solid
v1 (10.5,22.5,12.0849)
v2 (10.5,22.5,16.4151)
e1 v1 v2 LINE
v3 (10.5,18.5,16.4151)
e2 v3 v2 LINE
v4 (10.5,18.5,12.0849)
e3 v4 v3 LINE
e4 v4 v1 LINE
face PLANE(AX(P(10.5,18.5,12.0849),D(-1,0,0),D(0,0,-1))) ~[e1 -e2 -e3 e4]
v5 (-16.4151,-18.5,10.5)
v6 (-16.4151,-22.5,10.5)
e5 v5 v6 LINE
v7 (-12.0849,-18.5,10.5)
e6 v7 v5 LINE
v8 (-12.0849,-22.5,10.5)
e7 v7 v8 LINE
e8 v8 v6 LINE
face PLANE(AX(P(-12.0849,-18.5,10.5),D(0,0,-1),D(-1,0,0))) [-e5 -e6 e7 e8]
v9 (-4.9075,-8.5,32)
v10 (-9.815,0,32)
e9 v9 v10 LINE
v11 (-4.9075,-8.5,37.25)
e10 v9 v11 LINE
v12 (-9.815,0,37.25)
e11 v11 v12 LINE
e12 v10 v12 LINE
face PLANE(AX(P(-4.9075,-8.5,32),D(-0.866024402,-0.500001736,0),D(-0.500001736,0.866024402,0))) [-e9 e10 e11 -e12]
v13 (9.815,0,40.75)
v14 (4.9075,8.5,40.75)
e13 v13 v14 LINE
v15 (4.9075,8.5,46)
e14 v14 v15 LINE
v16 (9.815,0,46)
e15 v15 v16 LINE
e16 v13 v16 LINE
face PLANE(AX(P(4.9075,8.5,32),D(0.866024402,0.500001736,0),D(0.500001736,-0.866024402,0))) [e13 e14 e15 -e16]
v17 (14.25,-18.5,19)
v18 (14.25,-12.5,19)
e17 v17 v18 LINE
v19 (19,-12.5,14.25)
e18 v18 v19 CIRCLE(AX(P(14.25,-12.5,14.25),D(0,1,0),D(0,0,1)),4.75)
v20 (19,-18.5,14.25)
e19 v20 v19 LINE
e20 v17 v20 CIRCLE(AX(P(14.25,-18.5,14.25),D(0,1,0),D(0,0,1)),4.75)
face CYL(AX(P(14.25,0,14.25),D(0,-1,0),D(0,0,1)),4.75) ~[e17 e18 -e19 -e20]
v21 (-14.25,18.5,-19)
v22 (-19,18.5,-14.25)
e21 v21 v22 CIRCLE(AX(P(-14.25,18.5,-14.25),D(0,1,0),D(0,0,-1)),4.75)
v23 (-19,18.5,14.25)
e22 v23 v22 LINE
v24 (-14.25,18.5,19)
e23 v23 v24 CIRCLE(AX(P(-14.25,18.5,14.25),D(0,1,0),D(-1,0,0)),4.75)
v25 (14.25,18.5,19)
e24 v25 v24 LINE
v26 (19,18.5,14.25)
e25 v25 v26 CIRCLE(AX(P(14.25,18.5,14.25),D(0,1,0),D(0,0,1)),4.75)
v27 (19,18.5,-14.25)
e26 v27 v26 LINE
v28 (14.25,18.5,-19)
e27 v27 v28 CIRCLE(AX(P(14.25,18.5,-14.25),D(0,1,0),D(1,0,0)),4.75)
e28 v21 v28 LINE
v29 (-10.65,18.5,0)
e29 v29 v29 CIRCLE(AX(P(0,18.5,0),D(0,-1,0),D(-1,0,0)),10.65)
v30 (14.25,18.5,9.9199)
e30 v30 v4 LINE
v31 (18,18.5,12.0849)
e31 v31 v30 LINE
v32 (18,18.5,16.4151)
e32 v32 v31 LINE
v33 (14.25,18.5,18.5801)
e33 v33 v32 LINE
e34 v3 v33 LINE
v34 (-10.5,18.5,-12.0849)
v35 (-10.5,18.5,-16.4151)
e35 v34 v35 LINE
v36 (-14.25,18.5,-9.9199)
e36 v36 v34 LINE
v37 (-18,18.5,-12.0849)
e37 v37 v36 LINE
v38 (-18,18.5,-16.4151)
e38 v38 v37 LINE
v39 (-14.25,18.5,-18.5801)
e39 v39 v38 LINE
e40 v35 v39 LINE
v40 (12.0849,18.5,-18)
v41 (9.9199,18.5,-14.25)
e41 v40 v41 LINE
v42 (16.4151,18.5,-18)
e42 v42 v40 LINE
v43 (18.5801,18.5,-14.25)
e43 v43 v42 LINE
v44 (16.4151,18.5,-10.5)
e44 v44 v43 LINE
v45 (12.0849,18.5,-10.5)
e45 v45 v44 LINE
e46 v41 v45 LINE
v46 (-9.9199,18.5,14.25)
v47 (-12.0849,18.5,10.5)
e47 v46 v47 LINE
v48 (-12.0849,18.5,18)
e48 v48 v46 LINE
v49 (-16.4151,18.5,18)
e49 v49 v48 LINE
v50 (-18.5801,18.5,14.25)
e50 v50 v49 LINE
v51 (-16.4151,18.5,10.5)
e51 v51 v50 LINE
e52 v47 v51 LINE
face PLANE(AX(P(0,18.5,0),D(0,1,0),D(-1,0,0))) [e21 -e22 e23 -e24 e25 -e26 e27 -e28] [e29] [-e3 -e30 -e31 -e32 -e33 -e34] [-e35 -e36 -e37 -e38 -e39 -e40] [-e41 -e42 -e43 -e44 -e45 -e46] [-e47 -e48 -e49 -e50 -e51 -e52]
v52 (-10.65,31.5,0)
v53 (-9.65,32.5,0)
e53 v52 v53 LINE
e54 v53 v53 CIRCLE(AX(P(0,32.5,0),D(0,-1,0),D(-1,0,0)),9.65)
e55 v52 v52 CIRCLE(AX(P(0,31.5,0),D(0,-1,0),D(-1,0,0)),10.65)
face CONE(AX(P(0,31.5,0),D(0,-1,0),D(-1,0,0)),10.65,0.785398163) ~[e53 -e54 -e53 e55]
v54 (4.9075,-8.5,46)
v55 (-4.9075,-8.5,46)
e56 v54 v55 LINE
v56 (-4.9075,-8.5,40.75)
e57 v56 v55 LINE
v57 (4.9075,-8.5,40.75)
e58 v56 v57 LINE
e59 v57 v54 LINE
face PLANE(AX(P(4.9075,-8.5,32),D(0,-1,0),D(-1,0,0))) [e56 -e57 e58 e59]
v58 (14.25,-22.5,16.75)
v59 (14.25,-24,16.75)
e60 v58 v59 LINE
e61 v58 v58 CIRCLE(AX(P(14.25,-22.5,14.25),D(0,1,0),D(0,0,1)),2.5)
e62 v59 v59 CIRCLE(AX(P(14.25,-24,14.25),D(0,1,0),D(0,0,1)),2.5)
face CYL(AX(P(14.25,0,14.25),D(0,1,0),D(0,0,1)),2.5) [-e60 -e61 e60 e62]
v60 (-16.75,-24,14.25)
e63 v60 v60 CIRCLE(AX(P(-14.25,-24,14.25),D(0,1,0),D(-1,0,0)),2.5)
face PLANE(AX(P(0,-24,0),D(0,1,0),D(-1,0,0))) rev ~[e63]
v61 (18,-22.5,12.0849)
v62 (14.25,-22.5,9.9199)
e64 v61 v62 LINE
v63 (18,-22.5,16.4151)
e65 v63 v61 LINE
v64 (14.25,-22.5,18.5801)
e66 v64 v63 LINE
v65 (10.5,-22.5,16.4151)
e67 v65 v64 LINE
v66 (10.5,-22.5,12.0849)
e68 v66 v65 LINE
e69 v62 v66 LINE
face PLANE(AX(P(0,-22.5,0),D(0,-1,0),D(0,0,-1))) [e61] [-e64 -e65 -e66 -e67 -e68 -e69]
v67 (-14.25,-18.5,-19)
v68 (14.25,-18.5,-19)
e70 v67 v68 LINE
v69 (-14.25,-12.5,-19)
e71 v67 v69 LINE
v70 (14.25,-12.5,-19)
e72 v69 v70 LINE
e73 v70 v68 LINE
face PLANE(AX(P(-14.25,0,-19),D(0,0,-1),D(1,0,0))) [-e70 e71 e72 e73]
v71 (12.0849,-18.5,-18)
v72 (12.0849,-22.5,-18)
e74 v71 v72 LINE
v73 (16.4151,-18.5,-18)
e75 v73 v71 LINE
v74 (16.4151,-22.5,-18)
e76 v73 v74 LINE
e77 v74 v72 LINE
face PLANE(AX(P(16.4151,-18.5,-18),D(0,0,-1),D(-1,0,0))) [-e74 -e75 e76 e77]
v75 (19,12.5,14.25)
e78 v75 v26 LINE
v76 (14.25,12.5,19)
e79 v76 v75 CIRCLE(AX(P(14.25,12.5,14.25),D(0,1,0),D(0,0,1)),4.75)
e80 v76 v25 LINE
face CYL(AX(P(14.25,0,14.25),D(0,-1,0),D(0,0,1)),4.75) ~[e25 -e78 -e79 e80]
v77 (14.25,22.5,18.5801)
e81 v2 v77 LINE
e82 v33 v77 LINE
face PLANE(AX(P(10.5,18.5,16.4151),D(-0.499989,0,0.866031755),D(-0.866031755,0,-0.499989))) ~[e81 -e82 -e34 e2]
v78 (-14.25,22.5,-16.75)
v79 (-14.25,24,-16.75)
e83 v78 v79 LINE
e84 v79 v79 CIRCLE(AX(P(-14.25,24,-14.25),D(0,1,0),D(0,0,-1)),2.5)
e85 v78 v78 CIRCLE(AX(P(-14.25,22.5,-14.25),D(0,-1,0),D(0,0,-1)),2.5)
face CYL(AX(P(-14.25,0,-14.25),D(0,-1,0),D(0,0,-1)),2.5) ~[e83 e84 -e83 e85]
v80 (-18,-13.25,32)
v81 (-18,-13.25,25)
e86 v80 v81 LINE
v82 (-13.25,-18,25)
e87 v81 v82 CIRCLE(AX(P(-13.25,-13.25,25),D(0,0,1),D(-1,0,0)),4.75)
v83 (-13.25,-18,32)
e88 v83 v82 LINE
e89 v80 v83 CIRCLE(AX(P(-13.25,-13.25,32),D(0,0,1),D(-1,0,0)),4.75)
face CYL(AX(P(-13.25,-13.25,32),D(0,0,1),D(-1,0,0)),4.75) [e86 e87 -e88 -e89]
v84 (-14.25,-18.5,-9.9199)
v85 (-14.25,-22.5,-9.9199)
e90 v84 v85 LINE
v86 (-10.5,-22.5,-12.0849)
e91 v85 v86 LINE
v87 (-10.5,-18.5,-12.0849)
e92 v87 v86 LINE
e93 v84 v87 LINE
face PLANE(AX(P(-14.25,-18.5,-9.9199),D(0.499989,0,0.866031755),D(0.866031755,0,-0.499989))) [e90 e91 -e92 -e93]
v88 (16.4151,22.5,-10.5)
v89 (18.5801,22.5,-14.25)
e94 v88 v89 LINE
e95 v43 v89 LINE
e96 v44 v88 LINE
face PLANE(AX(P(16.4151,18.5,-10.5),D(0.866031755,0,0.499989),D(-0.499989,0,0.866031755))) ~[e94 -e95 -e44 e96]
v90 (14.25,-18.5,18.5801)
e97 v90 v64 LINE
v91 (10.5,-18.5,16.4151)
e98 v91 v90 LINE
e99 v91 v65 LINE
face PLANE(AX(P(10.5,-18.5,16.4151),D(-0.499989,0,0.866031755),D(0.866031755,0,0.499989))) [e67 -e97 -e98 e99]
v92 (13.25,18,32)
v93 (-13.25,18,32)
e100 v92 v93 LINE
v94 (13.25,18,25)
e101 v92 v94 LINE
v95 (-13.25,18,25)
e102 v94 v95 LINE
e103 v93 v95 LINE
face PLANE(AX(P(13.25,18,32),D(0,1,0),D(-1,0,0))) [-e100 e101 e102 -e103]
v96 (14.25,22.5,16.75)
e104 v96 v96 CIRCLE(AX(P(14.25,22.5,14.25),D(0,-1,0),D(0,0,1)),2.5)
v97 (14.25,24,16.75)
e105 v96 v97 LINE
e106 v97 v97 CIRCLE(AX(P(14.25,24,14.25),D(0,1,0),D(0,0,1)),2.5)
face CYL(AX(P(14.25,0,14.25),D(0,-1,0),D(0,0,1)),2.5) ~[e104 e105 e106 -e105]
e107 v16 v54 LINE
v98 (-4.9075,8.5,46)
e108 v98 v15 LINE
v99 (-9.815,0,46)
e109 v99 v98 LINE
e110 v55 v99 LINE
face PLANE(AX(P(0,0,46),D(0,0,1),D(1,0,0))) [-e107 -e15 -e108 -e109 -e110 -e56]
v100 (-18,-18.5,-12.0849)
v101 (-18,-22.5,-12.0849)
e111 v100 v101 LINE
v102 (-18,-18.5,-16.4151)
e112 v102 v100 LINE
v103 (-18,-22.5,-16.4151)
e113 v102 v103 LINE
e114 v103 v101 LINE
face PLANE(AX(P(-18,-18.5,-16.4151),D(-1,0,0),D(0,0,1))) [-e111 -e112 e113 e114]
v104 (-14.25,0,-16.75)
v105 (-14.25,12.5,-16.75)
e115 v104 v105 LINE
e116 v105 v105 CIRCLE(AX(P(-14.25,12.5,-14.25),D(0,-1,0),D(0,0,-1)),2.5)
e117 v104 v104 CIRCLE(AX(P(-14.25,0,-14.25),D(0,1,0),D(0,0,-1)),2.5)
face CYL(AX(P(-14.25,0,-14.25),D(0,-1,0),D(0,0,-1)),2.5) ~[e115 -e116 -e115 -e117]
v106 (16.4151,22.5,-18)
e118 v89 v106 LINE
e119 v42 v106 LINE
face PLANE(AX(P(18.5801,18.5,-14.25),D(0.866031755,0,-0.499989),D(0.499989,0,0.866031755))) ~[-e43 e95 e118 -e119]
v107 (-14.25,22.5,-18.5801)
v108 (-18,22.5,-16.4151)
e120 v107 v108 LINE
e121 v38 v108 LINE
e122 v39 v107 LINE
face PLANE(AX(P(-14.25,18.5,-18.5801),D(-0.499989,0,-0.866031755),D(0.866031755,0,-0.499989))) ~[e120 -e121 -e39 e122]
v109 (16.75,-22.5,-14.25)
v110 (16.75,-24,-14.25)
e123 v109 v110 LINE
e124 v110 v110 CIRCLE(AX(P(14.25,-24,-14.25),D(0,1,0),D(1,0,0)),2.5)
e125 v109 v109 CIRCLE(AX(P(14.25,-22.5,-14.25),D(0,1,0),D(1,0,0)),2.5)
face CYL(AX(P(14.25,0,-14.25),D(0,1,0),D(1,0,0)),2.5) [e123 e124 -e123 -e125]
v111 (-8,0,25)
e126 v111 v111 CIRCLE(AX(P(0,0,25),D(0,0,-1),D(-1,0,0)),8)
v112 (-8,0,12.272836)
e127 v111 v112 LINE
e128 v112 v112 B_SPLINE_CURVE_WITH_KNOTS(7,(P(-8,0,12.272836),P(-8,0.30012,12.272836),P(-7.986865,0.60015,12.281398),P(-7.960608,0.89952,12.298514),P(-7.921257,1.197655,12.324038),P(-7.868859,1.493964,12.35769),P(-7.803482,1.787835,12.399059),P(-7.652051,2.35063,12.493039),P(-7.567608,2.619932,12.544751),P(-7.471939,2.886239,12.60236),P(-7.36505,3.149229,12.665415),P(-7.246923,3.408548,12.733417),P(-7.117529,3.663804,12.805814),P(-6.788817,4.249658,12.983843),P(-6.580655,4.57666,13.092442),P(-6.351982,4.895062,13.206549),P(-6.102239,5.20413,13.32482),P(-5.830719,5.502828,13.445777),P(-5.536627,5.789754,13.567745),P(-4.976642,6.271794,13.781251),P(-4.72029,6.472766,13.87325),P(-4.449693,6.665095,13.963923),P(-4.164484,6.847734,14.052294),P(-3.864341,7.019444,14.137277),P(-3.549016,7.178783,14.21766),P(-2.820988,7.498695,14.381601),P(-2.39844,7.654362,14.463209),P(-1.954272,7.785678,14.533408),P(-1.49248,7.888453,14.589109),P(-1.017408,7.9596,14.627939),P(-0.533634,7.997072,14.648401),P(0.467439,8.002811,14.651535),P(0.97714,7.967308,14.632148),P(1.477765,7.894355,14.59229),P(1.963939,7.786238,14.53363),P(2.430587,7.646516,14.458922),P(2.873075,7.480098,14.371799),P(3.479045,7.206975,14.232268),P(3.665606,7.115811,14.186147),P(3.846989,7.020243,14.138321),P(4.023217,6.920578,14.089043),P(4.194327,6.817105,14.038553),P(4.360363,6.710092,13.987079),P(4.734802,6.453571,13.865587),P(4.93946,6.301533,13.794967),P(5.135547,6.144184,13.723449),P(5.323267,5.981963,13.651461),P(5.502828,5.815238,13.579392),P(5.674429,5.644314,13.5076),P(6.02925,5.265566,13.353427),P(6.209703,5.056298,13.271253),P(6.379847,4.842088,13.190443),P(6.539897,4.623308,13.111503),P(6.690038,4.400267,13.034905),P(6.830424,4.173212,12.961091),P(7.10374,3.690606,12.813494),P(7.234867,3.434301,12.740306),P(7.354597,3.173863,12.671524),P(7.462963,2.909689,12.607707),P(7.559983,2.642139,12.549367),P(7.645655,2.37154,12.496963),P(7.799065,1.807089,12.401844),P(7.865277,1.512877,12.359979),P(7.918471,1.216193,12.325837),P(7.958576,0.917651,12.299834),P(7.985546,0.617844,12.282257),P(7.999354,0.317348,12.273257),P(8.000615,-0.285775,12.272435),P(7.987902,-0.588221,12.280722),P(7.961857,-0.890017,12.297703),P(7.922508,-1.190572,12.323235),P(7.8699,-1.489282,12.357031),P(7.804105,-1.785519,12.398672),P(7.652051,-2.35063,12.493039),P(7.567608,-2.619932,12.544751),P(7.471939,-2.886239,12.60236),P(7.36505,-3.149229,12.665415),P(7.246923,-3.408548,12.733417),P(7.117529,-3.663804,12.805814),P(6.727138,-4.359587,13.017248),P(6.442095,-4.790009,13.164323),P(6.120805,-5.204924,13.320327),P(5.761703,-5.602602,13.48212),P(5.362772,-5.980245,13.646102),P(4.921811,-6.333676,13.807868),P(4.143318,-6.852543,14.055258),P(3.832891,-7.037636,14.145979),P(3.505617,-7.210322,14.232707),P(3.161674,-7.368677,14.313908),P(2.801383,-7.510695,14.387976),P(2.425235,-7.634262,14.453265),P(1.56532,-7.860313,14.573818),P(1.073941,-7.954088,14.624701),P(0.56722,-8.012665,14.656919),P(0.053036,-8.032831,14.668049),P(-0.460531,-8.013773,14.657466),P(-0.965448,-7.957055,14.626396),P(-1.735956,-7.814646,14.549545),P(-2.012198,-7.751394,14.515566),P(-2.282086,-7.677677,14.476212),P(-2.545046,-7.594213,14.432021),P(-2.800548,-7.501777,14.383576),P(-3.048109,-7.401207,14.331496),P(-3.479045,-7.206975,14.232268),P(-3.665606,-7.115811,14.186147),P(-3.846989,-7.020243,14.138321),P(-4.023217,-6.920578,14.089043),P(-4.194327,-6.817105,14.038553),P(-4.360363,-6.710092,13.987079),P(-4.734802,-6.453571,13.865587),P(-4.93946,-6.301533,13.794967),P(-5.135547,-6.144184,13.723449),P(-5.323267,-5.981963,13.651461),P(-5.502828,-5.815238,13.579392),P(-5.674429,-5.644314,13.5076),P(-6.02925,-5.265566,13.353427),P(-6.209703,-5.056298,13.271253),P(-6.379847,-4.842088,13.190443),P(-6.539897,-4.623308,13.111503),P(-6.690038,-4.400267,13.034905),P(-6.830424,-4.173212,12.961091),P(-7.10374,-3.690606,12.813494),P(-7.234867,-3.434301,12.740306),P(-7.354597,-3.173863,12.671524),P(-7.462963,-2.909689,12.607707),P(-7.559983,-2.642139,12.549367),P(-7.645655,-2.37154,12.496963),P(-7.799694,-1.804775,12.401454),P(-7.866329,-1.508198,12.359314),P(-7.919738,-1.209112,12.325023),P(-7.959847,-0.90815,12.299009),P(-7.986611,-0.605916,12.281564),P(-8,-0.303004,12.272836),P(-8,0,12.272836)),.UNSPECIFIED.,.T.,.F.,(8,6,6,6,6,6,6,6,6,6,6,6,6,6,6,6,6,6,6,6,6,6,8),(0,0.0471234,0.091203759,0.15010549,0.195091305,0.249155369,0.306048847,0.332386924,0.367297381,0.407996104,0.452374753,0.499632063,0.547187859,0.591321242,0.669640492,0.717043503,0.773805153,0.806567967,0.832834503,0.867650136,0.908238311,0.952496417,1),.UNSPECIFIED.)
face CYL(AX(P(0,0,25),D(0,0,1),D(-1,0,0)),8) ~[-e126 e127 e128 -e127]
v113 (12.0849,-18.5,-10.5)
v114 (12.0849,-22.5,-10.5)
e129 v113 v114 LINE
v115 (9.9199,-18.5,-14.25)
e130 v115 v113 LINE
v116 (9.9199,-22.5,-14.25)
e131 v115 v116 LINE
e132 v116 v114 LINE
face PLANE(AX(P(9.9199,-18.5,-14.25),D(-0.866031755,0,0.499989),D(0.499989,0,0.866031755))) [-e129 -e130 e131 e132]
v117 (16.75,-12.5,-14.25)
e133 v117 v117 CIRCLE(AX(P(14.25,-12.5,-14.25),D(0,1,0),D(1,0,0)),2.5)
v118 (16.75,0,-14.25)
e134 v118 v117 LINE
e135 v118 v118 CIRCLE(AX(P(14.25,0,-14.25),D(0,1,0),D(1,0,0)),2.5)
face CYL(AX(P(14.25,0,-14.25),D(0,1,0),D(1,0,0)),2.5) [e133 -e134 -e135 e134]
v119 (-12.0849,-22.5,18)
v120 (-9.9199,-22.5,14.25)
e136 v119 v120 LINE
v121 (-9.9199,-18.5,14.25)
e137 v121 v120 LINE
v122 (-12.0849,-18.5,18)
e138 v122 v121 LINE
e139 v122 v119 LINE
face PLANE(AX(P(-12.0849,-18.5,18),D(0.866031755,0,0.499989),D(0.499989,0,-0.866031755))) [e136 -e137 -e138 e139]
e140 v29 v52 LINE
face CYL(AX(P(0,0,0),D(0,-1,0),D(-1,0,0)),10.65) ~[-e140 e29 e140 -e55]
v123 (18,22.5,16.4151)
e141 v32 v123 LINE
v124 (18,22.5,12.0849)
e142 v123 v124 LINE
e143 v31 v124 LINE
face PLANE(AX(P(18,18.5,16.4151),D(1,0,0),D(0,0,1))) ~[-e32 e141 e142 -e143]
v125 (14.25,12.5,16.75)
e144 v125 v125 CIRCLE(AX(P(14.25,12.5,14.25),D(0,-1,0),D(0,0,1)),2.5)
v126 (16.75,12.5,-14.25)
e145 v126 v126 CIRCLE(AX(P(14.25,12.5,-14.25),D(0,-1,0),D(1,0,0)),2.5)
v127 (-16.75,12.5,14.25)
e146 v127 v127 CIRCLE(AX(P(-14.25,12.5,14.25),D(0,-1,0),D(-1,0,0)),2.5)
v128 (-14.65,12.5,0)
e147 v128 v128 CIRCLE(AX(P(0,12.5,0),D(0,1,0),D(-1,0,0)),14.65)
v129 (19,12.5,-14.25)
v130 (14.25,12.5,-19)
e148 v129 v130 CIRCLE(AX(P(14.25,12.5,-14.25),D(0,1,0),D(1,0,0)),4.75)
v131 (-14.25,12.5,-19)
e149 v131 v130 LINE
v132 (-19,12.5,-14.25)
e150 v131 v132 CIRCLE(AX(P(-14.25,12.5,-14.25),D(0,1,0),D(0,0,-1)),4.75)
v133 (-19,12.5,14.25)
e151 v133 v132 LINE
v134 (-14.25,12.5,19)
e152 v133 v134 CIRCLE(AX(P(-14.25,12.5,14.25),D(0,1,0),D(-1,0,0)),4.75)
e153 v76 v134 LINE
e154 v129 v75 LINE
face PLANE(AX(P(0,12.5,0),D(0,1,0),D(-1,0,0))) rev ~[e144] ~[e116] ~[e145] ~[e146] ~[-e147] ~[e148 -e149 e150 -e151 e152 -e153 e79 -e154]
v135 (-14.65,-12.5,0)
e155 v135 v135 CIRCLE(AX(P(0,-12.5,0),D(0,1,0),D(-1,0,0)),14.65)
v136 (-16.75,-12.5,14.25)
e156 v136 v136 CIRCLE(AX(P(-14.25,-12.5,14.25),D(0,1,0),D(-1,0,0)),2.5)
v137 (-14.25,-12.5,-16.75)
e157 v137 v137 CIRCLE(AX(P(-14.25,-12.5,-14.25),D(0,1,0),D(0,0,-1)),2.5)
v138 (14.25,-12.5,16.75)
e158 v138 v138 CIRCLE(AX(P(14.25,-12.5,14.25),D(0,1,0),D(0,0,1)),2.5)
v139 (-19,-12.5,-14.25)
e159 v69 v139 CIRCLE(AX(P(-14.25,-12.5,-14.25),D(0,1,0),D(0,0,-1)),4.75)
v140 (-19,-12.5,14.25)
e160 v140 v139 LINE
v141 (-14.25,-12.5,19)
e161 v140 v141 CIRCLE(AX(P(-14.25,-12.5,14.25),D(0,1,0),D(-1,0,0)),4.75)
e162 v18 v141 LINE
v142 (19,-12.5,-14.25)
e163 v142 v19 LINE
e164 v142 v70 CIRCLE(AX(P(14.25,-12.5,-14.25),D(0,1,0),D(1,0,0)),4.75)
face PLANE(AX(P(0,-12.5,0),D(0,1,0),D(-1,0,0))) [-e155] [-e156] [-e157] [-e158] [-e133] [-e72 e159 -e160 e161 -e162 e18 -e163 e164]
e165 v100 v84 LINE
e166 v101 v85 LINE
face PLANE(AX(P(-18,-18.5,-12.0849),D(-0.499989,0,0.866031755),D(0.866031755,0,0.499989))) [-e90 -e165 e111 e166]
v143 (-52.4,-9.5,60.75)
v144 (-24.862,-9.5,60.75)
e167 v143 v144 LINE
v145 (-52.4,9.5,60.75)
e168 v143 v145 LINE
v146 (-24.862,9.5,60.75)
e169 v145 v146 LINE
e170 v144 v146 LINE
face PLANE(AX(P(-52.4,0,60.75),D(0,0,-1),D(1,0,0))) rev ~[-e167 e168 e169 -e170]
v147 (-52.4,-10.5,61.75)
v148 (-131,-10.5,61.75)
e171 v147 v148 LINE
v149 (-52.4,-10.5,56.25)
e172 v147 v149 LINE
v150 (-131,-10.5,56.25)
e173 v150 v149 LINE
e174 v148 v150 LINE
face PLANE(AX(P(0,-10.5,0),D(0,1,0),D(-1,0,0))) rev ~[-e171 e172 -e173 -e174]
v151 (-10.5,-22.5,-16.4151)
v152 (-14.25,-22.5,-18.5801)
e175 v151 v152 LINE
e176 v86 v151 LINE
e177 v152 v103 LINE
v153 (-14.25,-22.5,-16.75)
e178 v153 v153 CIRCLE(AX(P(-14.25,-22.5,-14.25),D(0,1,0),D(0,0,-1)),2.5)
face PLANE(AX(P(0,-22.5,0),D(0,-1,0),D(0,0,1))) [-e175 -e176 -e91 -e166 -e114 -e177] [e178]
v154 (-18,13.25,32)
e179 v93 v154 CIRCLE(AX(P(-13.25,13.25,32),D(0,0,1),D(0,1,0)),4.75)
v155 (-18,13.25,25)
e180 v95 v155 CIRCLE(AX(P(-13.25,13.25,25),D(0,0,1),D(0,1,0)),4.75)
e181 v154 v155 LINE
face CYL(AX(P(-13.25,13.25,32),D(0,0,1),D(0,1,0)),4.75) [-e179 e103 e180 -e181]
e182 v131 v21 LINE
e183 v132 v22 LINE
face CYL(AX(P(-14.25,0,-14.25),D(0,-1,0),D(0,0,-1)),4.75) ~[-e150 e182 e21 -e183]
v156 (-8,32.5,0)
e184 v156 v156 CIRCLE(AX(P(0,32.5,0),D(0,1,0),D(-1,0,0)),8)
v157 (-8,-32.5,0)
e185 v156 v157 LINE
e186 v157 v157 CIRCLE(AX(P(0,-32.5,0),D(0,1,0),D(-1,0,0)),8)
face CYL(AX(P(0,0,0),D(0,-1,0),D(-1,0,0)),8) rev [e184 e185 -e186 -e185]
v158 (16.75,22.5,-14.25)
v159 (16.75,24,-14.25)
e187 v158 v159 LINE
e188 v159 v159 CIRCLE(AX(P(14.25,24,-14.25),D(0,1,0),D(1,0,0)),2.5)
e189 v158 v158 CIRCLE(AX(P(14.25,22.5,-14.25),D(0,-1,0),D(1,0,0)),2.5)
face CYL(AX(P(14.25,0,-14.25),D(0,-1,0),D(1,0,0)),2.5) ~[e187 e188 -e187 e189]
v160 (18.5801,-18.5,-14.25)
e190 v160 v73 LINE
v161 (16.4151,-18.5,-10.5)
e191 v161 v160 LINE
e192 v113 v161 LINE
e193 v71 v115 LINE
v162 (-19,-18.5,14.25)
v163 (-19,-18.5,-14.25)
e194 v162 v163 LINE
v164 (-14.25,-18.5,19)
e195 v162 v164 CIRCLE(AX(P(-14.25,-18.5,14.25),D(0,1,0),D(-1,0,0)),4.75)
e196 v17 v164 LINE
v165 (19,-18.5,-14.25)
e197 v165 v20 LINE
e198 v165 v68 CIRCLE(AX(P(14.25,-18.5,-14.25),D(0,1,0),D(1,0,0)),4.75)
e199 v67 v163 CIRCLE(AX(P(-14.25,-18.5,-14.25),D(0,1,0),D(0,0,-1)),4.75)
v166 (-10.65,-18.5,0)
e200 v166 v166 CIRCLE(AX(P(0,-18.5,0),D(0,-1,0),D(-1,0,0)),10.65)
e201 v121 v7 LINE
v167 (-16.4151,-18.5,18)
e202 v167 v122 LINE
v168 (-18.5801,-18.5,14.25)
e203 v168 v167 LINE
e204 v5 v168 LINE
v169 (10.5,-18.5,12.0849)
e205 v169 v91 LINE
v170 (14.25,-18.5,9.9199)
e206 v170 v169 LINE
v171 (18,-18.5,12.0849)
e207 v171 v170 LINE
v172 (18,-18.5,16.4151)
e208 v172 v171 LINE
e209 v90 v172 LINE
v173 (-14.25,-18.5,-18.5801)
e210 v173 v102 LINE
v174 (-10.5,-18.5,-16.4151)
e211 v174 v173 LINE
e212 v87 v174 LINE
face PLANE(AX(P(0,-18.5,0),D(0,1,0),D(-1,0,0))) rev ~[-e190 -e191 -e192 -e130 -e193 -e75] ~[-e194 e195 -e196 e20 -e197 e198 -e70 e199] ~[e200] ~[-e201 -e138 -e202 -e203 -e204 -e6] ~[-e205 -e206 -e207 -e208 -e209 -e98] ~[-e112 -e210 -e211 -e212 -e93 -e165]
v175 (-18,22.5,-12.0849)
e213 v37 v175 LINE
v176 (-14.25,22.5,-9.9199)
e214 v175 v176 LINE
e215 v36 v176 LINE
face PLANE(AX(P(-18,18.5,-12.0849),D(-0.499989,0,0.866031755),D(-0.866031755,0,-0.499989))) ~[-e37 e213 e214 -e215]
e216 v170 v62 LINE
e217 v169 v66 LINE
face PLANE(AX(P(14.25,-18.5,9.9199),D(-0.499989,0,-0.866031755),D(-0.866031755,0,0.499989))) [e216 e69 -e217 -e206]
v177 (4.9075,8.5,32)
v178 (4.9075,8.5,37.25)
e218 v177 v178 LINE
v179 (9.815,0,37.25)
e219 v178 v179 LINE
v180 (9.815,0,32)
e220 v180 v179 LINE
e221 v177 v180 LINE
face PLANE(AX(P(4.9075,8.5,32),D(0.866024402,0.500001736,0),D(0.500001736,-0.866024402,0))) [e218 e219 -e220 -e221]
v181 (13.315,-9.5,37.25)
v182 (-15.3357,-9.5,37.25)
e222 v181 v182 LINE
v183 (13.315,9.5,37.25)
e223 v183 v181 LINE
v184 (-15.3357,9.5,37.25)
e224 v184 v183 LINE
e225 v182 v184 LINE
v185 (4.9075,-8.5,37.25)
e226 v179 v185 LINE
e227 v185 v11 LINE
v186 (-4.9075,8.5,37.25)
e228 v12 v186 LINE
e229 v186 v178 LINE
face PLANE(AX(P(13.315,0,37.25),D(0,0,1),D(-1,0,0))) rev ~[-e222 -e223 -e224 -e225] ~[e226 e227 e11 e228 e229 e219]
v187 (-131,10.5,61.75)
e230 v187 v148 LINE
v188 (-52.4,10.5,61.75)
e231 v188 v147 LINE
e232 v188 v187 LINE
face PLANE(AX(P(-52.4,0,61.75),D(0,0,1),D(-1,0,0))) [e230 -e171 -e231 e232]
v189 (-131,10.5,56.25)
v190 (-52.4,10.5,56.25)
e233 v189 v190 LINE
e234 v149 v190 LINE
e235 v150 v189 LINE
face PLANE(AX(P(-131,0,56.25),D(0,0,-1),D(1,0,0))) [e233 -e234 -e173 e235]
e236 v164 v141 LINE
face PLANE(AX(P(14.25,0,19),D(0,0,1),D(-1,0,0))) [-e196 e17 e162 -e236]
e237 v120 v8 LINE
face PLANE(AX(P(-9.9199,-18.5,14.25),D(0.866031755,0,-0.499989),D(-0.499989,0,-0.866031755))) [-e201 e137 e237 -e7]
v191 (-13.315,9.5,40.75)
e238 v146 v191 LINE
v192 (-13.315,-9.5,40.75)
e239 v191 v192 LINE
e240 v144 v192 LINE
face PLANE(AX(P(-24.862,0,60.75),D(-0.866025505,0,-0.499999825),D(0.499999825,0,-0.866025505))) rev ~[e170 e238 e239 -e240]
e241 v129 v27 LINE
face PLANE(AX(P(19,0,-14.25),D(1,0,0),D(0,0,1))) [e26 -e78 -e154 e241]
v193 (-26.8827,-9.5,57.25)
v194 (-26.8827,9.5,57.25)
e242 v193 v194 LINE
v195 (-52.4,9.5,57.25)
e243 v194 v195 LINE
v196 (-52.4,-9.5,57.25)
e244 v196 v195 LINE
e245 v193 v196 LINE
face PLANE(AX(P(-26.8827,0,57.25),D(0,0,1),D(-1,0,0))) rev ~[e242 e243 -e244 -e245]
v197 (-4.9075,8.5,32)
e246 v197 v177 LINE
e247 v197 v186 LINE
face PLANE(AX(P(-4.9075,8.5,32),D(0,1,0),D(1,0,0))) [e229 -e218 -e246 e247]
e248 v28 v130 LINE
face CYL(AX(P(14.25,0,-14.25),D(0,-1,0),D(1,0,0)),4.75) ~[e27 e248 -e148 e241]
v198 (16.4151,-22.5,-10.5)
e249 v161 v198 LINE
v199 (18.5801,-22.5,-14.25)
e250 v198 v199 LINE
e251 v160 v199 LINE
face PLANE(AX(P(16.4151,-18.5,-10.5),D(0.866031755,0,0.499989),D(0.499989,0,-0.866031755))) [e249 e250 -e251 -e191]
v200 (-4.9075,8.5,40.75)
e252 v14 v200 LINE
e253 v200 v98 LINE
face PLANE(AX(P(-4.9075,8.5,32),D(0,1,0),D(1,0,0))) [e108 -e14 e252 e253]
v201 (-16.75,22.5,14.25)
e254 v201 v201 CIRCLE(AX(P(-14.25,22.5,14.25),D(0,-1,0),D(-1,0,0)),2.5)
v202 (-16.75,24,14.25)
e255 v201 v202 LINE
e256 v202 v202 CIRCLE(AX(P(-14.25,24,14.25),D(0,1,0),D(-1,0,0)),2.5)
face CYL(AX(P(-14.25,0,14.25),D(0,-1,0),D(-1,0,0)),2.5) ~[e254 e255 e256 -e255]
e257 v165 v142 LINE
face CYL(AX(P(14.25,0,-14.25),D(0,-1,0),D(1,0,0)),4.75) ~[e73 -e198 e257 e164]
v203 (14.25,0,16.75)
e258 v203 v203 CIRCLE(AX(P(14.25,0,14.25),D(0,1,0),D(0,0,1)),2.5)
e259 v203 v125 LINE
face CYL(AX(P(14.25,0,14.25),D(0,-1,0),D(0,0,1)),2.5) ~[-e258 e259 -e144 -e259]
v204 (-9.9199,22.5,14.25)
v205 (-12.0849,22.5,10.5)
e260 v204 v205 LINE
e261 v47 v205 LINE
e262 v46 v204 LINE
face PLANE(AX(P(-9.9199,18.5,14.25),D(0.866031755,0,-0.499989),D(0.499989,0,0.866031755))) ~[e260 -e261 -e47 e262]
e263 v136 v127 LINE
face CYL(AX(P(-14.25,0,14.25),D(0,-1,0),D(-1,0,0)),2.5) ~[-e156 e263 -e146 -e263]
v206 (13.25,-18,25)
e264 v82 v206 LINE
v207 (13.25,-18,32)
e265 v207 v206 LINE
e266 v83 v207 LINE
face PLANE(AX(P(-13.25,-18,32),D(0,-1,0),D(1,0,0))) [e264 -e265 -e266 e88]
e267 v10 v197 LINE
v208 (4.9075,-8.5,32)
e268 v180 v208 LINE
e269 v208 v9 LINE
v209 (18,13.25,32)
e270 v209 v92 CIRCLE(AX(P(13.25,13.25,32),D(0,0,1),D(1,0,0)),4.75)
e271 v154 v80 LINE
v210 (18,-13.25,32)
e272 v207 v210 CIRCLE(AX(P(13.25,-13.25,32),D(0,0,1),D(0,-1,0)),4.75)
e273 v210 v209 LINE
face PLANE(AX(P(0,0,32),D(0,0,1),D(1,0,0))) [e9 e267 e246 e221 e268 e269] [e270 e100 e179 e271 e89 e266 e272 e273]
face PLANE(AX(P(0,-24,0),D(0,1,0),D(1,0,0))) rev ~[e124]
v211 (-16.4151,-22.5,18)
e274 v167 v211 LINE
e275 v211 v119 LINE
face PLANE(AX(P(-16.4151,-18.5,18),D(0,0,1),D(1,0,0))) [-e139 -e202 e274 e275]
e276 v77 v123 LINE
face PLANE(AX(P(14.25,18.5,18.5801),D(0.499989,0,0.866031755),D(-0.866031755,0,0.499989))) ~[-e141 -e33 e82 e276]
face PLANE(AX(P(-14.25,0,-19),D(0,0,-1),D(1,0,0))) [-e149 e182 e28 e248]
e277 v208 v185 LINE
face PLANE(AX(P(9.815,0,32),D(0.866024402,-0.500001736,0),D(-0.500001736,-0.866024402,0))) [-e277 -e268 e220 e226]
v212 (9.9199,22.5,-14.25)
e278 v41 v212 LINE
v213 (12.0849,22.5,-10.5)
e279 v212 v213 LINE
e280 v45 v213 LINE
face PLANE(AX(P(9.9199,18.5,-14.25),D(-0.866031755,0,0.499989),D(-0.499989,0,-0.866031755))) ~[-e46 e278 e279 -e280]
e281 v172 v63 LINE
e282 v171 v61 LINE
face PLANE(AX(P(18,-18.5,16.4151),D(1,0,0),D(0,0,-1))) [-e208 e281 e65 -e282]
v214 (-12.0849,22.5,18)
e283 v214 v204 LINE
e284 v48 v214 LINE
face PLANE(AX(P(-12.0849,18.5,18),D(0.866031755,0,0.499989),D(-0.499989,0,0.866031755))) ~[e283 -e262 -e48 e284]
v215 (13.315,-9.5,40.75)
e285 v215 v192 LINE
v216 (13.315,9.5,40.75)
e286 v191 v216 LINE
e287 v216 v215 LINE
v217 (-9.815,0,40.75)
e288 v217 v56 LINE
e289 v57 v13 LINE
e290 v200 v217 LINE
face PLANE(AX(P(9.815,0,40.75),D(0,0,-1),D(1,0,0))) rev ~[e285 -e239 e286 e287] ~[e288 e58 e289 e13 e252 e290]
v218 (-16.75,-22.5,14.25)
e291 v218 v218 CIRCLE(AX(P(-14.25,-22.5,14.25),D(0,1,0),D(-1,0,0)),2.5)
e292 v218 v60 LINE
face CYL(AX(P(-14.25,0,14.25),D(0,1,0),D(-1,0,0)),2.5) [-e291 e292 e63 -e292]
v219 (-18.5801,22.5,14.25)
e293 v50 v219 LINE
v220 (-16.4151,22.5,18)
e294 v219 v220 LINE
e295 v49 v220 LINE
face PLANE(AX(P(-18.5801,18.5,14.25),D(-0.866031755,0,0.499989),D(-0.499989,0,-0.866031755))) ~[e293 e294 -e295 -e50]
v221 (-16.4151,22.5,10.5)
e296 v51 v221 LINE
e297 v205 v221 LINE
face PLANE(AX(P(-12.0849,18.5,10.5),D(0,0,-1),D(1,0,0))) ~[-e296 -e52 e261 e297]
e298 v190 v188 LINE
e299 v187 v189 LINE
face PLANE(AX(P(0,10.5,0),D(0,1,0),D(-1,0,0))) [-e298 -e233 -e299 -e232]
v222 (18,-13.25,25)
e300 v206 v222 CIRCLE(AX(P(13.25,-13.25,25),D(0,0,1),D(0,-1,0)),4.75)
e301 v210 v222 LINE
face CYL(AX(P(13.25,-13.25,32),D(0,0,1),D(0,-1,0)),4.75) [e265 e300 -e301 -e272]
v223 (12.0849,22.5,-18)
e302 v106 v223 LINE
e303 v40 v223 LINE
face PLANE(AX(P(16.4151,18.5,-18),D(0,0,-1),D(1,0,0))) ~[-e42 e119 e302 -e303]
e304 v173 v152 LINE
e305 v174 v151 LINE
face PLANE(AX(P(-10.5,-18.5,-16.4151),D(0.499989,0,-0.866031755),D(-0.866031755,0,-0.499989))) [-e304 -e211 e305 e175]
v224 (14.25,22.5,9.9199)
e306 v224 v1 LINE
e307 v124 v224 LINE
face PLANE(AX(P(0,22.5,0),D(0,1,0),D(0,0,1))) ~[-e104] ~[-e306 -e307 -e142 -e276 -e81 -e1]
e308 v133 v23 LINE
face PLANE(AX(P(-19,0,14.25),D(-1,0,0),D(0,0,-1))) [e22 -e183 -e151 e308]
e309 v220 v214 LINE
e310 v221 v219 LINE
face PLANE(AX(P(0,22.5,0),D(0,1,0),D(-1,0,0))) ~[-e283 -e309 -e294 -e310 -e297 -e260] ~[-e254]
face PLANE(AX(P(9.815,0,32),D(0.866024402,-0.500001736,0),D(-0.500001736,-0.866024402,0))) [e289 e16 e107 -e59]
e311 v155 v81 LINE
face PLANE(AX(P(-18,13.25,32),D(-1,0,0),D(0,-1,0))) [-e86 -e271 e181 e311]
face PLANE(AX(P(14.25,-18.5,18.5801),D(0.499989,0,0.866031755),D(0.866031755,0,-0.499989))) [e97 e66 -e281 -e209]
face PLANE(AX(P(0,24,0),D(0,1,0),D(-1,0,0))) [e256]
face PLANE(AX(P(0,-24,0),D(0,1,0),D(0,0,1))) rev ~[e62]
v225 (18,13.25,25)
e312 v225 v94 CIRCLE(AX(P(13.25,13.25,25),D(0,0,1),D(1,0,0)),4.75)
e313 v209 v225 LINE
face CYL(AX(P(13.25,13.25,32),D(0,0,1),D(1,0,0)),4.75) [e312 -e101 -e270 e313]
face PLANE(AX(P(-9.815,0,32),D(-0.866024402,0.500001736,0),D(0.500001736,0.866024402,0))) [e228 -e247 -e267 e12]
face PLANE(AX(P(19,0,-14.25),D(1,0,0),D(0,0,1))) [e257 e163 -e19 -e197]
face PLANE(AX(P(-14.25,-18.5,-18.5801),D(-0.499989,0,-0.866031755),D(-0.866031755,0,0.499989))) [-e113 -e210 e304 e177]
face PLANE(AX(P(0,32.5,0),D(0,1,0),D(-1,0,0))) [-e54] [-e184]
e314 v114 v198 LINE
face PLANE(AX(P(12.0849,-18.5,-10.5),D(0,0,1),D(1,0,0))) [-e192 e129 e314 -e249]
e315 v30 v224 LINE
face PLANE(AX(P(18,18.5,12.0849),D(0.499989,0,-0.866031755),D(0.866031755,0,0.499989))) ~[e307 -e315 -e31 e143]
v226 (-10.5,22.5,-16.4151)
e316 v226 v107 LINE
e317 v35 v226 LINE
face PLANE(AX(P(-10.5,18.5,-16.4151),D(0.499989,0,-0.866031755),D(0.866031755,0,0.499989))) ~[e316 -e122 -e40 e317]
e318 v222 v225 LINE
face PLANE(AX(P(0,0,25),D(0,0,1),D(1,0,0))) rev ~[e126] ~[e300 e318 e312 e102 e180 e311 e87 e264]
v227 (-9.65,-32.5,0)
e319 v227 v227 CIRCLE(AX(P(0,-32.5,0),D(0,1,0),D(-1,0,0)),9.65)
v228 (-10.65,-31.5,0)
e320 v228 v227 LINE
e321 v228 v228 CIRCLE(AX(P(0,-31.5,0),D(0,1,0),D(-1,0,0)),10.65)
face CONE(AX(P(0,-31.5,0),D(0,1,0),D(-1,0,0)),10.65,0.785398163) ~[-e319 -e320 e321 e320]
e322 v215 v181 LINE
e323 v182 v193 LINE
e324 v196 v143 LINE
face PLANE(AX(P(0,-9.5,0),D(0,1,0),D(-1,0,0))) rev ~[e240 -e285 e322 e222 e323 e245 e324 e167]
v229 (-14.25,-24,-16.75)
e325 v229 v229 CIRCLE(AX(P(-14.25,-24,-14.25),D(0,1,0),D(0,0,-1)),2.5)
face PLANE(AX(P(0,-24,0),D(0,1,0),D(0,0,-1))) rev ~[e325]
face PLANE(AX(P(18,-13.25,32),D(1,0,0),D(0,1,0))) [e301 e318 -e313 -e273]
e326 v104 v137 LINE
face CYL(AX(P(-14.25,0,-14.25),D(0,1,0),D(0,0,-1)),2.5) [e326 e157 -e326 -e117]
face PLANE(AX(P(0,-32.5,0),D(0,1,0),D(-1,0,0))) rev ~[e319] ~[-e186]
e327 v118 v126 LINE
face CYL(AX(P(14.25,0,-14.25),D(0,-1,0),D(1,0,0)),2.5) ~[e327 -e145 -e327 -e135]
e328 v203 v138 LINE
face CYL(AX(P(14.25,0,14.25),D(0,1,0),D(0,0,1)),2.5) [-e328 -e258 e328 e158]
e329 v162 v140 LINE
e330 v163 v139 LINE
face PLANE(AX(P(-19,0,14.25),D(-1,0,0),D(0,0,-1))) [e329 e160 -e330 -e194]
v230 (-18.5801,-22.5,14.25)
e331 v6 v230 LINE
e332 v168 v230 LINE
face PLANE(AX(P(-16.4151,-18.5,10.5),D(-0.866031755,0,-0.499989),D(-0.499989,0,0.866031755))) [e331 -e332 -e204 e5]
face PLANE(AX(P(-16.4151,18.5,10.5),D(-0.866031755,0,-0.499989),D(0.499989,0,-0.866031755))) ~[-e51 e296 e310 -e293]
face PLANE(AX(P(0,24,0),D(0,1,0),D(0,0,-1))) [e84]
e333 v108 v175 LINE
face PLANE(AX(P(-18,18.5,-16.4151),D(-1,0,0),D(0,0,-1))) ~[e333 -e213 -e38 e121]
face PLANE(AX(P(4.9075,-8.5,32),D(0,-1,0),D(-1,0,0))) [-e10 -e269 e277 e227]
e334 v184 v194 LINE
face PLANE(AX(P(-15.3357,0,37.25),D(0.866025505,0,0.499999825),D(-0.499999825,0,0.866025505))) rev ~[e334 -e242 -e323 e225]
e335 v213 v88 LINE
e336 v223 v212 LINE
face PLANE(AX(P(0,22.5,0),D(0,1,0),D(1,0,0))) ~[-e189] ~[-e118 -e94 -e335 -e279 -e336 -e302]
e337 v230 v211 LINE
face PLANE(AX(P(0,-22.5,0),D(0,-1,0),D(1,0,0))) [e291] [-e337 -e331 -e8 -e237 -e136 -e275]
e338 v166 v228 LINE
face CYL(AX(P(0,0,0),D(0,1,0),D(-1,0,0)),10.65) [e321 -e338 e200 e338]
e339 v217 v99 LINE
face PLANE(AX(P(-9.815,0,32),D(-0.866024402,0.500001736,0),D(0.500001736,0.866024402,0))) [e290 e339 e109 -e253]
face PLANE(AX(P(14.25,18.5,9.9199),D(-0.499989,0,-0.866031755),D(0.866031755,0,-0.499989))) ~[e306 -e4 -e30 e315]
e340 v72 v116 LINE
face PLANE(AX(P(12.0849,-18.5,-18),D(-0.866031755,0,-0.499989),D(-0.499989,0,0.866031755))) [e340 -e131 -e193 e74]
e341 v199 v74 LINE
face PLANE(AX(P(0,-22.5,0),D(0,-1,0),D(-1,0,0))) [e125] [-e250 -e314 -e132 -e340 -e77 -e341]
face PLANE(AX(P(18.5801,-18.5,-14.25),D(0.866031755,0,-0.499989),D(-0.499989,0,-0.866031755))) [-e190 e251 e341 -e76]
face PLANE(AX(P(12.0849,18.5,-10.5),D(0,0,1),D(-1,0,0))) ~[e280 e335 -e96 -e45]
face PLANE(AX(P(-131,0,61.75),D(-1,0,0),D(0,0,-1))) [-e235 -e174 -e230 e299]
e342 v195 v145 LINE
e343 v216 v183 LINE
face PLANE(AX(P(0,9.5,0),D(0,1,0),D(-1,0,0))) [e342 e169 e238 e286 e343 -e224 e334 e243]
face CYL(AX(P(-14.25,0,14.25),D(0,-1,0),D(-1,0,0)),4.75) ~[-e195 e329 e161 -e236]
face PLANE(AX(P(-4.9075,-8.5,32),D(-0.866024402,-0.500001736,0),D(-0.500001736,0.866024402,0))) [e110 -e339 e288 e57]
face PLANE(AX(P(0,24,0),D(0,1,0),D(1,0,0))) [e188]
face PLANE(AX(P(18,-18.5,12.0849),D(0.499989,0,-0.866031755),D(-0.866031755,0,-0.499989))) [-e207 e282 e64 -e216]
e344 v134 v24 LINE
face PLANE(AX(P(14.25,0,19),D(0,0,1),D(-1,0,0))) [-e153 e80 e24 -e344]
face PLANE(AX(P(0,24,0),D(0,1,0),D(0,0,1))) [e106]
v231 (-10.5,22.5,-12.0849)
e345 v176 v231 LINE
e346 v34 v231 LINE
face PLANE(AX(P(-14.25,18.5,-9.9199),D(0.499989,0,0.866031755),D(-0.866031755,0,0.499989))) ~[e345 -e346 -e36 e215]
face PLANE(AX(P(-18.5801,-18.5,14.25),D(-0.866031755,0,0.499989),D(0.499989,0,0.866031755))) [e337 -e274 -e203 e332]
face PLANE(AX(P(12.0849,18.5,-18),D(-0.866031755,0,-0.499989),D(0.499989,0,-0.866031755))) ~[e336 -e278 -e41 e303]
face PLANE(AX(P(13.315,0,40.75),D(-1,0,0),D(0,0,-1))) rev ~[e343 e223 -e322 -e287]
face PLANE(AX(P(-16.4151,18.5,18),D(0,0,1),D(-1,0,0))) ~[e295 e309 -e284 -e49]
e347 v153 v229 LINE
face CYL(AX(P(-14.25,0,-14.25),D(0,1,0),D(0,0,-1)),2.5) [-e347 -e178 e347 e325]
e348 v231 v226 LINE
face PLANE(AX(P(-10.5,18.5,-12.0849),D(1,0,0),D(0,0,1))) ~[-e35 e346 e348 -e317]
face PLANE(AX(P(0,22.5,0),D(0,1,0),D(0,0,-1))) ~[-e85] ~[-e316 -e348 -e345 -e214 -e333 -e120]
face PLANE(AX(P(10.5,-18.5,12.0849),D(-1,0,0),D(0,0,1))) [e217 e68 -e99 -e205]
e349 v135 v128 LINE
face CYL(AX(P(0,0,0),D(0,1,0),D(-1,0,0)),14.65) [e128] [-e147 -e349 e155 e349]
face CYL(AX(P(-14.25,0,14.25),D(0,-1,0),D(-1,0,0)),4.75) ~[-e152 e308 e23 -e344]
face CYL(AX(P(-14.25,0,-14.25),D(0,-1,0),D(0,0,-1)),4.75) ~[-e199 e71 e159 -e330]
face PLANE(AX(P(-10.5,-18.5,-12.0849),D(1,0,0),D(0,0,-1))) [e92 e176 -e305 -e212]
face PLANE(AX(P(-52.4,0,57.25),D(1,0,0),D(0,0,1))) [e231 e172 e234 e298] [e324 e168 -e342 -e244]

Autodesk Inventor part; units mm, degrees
ref_plane "YZ Plane" through (0, 0, 0) normal (1, 0, 0) x (0, 1, 0)
ref_plane "XZ Plane" through (0, 0, 0) normal (0, 1, 0) x (-1, 0, 0)
sketch "Sketch3" plane through (0, 0, 0) normal (0, 1, 0) x (-1, 0, 0)
  line L0 (-4.0756, 9.8393) -> (4.0756, 9.8393)
  line L1 (4.0756, 9.8393) -> (9.8393, 4.0756)
  line L2 (9.8393, 4.0756) -> (9.8393, -4.0756)
  line L3 (9.8393, -4.0756) -> (4.0756, -9.8393)
  line L4 (4.0756, -9.8393) -> (-4.0756, -9.8393)
  line L5 (-4.0756, -9.8393) -> (-9.8393, -4.0756)
  line L6 (-9.8393, -4.0756) -> (-9.8393, 4.0756)
  line L7 (-9.8393, 4.0756) -> (-4.0756, 9.8393)
  circle A0 centre (0, 0) radius 10.65
  line L8 (14.25, -19) -> (-14.25, -19)
  line L9 (-19, -14.25) -> (-19, 14.25)
  line L10 (-14.25, 19) -> (14.25, 19)
  line L11 (19, 14.25) -> (19, -14.25)
  line L12 (19, -19) -> (-19, 19) construction
  line L13 (-19, -19) -> (19, 19) construction
  circle A1 centre (0, 0) radius 9.8393
  arc A2 (19, 14.25) -> (14.25, 19) centre (14.25, 14.25) ccw
  arc A3 (-14.25, 19) -> (-19, 14.25) centre (-14.25, 14.25) ccw
  arc A4 (-19, -14.25) -> (-14.25, -19) centre (-14.25, -14.25) ccw
  arc A5 (14.25, -19) -> (19, -14.25) centre (14.25, -14.25) ccw
  circle A6 centre (0, 0) radius 8
  circle A7 centre (14.25, 14.25) radius 2.5
  circle A8 centre (0, 0) radius 14.65
  dimension "oSW" = 21.3
  dimension "oFlangeW" = 38
  dimension "d2" = 4.75
  dimension "oIntDia" = 16
  dimension "oMbolt" = 5
  dimension "d16" = 4
extrude "Extrusion1" add sketch "Sketch3" along normal mid plane 65 contours A0 L0 | L0 A1 L7 | L7 A0 | L0 L1 A1 | A1 | A1 L6 L7 | A0 L1 | L6 A0 | L1 L2 A1 | A1 L5 L6 | A0 L2 | L5 A0 | L2 L3 A1 | A1 L4 L5 | L4 A0 | A0 L3 | L3 L4 A1
extrude "Extrusion2" add sketch "Sketch3" along normal mid plane 37 contours A0 L0 | L7 A0 | A0 L1 | L6 A0 | A0 L2 | L5 A0 | L4 A0 | A0 L3 | L8 A4 L9 A3 L10 A2 L11 A5 | A7 | A8
extrude "Extrusion3" cut sketch "Sketch3" along normal mid plane 25 contours L8 A4 L9 A3 L10 A2 L11 A5 | A7
extrude "Extrusion4" add sketch "Sketch3" along normal mid plane 48 contours A7
sketch "Sketch4" plane through (0, -18.5, 0) normal (0, -1, 0) x (1, 0, 0)
  circle A0 centre (-14.25, 14.25) radius 2.5 projected
  line L0 (-12.0849, 10.5) -> (-16.4151, 10.5)
  line L1 (-16.4151, 10.5) -> (-18.5801, 14.25)
  line L2 (-18.5801, 14.25) -> (-16.4151, 18)
  line L3 (-16.4151, 18) -> (-12.0849, 18)
  line L4 (-12.0849, 18) -> (-9.9199, 14.25)
  line L5 (-9.9199, 14.25) -> (-12.0849, 10.5)
  point P0 (0, 0)
  dimension "d13" = 7.5
extrude "Extrusion5" add sketch "Sketch4" along normal blind 4
mirror "Mirror1" about plane through (0, 0, 0) normal (0, 1, 0) of "Extrusion5"
pattern_circular "Circular Pattern1" count 4 over 360 about axis through (0, 0, 0) along (0, 1, 0) of "Extrusion5", "Extrusion4", "Mirror1"
ref_plane "Work Plane1" through (0, 0, 32) normal (0, 0, 1) x (1, 0, 0)
sketch "Sketch5" plane through (0, 0, 32) normal (0, 0, 1) x (1, 0, 0)
  line L0 (-13.25, -18) -> (13.25, -18)
  line L1 (18, -13.25) -> (18, 13.25)
  line L2 (13.25, 18) -> (-13.25, 18)
  line L3 (-18, 13.25) -> (-18, -13.25)
  line L4 (-18, -18) -> (18, 18) construction
  line L5 (18, -18) -> (-18, 18) construction
  arc A0 (-18, -13.25) -> (-13.25, -18) centre (-13.25, -13.25) ccw
  arc A1 (13.25, -18) -> (18, -13.25) centre (13.25, -13.25) ccw
  arc A2 (18, 13.25) -> (13.25, 18) centre (13.25, 13.25) ccw
  arc A3 (-13.25, 18) -> (-18, 13.25) centre (-13.25, 13.25) ccw
  point P0 (0, 0)
  dimension "d21" = 36
  dimension "d22" = 4.75
extrude "Extrusion6" add sketch "Sketch5" against normal blind 7
sketch "Sketch6" plane through (0, 0, 25) normal (0, 0, -1) x (-1, 0, 0)
  circle A0 centre (0, 0) radius 8
  dimension "d25" = 16
extrude "Extrusion7" add sketch "Sketch6" along normal up to surface
sketch "Sketch8" plane through (0, 0, 32) normal (0, 0, 1) x (1, 0, 0)
  line L0 (-4.9075, -8.5) -> (-9.815, 0)
  line L1 (-9.815, 0) -> (-4.9075, 8.5)
  line L2 (-4.9075, 8.5) -> (4.9075, 8.5)
  line L3 (4.9075, 8.5) -> (9.815, 0)
  line L4 (9.815, 0) -> (4.9075, -8.5)
  line L5 (4.9075, -8.5) -> (-4.9075, -8.5)
  point P0 (0, 0)
  point P1 (0, 0)
  dimension "oSW2" = 17
extrude "Extrusion8" add sketch "Sketch8" along normal blind 14
sketch "Sketch9" plane through (0, 0, 0) normal (0, 1, 0) x (-1, 0, 0)
  line L0 (-9.815, 32) -> (-9.815, 46) projected
  line L1 (-13.315, 37.25) -> (15.3357, 37.25)
  line L2 (15.3357, 37.25) -> (26.8827, 57.25)
  line L3 (26.8827, 57.25) -> (52.4, 57.25)
  line L4 (52.4, 57.25) -> (52.4, 60.75)
  line L5 (52.4, 60.75) -> (24.862, 60.75)
  line L6 (24.862, 60.75) -> (13.315, 40.75)
  line L7 (13.315, 40.75) -> (-13.315, 40.75)
  line L8 (-13.315, 40.75) -> (-13.315, 37.25)
  line L9 (-9.815, 39) -> (-13.315, 39) construction
  line L10 (17.4866, 40.9755) -> (14.4555, 42.7255) construction
  line L11 (52.4, 61.75) -> (131, 61.75)
  line L12 (131, 61.75) -> (131, 56.25)
  line L13 (131, 56.25) -> (52.4, 56.25)
  line L14 (52.4, 56.25) -> (52.4, 61.75)
  line L15 (9.815, 32) -> (9.815, 46) projected
  point P0 (0, 0)
  point P1 (52.4, 59)
  dimension "d32" = 60
  dimension "d33" = 3.5
  dimension "oHeightHandle" = 20
  dimension "d35" = 1
  dimension "d36" = 3.5
  dimension "d37" = 3.5
  dimension "oLenghtHandle" = 131
  dimension "d39" = 78.6
extrude "Extrusion9" add sketch "Sketch9" along normal mid plane 19 contours L1 L8 L7 L0 | L0 L7 L15 L1 | L15 L7 L6 L5 L4 L3 L2 L1
extrude "Extrusion10" add sketch "Sketch9" along normal mid plane 21 contours L4 L14 L11 L12 L13
chamfer "Chamfer1" distance 1 angle 45 2 edges at (10.65, 32.5, 0) (10.65, -32.5, 0)
equation "\"d2\" = 0.125 * oFlangeW"
equation "\"d13\" = 1.5 * oMbolt"
equation "\"d14\" = 0.8 * oMbolt"
equation "\"d22\" = d2"
equation "\"d25\" = oIntDia"
equation "\"d33\" = 0.25 * oHeightTop"
equation "\"d36\" = d33"
equation "\"d37\" = d36"
equation "\"d39\" = 0.6 * oLenghtHandle"
equation "\"oHeightTop\" = 14"
properties part number "MANUAL BUTT WELD BALL VALVE DN15 304L" material "304L"
